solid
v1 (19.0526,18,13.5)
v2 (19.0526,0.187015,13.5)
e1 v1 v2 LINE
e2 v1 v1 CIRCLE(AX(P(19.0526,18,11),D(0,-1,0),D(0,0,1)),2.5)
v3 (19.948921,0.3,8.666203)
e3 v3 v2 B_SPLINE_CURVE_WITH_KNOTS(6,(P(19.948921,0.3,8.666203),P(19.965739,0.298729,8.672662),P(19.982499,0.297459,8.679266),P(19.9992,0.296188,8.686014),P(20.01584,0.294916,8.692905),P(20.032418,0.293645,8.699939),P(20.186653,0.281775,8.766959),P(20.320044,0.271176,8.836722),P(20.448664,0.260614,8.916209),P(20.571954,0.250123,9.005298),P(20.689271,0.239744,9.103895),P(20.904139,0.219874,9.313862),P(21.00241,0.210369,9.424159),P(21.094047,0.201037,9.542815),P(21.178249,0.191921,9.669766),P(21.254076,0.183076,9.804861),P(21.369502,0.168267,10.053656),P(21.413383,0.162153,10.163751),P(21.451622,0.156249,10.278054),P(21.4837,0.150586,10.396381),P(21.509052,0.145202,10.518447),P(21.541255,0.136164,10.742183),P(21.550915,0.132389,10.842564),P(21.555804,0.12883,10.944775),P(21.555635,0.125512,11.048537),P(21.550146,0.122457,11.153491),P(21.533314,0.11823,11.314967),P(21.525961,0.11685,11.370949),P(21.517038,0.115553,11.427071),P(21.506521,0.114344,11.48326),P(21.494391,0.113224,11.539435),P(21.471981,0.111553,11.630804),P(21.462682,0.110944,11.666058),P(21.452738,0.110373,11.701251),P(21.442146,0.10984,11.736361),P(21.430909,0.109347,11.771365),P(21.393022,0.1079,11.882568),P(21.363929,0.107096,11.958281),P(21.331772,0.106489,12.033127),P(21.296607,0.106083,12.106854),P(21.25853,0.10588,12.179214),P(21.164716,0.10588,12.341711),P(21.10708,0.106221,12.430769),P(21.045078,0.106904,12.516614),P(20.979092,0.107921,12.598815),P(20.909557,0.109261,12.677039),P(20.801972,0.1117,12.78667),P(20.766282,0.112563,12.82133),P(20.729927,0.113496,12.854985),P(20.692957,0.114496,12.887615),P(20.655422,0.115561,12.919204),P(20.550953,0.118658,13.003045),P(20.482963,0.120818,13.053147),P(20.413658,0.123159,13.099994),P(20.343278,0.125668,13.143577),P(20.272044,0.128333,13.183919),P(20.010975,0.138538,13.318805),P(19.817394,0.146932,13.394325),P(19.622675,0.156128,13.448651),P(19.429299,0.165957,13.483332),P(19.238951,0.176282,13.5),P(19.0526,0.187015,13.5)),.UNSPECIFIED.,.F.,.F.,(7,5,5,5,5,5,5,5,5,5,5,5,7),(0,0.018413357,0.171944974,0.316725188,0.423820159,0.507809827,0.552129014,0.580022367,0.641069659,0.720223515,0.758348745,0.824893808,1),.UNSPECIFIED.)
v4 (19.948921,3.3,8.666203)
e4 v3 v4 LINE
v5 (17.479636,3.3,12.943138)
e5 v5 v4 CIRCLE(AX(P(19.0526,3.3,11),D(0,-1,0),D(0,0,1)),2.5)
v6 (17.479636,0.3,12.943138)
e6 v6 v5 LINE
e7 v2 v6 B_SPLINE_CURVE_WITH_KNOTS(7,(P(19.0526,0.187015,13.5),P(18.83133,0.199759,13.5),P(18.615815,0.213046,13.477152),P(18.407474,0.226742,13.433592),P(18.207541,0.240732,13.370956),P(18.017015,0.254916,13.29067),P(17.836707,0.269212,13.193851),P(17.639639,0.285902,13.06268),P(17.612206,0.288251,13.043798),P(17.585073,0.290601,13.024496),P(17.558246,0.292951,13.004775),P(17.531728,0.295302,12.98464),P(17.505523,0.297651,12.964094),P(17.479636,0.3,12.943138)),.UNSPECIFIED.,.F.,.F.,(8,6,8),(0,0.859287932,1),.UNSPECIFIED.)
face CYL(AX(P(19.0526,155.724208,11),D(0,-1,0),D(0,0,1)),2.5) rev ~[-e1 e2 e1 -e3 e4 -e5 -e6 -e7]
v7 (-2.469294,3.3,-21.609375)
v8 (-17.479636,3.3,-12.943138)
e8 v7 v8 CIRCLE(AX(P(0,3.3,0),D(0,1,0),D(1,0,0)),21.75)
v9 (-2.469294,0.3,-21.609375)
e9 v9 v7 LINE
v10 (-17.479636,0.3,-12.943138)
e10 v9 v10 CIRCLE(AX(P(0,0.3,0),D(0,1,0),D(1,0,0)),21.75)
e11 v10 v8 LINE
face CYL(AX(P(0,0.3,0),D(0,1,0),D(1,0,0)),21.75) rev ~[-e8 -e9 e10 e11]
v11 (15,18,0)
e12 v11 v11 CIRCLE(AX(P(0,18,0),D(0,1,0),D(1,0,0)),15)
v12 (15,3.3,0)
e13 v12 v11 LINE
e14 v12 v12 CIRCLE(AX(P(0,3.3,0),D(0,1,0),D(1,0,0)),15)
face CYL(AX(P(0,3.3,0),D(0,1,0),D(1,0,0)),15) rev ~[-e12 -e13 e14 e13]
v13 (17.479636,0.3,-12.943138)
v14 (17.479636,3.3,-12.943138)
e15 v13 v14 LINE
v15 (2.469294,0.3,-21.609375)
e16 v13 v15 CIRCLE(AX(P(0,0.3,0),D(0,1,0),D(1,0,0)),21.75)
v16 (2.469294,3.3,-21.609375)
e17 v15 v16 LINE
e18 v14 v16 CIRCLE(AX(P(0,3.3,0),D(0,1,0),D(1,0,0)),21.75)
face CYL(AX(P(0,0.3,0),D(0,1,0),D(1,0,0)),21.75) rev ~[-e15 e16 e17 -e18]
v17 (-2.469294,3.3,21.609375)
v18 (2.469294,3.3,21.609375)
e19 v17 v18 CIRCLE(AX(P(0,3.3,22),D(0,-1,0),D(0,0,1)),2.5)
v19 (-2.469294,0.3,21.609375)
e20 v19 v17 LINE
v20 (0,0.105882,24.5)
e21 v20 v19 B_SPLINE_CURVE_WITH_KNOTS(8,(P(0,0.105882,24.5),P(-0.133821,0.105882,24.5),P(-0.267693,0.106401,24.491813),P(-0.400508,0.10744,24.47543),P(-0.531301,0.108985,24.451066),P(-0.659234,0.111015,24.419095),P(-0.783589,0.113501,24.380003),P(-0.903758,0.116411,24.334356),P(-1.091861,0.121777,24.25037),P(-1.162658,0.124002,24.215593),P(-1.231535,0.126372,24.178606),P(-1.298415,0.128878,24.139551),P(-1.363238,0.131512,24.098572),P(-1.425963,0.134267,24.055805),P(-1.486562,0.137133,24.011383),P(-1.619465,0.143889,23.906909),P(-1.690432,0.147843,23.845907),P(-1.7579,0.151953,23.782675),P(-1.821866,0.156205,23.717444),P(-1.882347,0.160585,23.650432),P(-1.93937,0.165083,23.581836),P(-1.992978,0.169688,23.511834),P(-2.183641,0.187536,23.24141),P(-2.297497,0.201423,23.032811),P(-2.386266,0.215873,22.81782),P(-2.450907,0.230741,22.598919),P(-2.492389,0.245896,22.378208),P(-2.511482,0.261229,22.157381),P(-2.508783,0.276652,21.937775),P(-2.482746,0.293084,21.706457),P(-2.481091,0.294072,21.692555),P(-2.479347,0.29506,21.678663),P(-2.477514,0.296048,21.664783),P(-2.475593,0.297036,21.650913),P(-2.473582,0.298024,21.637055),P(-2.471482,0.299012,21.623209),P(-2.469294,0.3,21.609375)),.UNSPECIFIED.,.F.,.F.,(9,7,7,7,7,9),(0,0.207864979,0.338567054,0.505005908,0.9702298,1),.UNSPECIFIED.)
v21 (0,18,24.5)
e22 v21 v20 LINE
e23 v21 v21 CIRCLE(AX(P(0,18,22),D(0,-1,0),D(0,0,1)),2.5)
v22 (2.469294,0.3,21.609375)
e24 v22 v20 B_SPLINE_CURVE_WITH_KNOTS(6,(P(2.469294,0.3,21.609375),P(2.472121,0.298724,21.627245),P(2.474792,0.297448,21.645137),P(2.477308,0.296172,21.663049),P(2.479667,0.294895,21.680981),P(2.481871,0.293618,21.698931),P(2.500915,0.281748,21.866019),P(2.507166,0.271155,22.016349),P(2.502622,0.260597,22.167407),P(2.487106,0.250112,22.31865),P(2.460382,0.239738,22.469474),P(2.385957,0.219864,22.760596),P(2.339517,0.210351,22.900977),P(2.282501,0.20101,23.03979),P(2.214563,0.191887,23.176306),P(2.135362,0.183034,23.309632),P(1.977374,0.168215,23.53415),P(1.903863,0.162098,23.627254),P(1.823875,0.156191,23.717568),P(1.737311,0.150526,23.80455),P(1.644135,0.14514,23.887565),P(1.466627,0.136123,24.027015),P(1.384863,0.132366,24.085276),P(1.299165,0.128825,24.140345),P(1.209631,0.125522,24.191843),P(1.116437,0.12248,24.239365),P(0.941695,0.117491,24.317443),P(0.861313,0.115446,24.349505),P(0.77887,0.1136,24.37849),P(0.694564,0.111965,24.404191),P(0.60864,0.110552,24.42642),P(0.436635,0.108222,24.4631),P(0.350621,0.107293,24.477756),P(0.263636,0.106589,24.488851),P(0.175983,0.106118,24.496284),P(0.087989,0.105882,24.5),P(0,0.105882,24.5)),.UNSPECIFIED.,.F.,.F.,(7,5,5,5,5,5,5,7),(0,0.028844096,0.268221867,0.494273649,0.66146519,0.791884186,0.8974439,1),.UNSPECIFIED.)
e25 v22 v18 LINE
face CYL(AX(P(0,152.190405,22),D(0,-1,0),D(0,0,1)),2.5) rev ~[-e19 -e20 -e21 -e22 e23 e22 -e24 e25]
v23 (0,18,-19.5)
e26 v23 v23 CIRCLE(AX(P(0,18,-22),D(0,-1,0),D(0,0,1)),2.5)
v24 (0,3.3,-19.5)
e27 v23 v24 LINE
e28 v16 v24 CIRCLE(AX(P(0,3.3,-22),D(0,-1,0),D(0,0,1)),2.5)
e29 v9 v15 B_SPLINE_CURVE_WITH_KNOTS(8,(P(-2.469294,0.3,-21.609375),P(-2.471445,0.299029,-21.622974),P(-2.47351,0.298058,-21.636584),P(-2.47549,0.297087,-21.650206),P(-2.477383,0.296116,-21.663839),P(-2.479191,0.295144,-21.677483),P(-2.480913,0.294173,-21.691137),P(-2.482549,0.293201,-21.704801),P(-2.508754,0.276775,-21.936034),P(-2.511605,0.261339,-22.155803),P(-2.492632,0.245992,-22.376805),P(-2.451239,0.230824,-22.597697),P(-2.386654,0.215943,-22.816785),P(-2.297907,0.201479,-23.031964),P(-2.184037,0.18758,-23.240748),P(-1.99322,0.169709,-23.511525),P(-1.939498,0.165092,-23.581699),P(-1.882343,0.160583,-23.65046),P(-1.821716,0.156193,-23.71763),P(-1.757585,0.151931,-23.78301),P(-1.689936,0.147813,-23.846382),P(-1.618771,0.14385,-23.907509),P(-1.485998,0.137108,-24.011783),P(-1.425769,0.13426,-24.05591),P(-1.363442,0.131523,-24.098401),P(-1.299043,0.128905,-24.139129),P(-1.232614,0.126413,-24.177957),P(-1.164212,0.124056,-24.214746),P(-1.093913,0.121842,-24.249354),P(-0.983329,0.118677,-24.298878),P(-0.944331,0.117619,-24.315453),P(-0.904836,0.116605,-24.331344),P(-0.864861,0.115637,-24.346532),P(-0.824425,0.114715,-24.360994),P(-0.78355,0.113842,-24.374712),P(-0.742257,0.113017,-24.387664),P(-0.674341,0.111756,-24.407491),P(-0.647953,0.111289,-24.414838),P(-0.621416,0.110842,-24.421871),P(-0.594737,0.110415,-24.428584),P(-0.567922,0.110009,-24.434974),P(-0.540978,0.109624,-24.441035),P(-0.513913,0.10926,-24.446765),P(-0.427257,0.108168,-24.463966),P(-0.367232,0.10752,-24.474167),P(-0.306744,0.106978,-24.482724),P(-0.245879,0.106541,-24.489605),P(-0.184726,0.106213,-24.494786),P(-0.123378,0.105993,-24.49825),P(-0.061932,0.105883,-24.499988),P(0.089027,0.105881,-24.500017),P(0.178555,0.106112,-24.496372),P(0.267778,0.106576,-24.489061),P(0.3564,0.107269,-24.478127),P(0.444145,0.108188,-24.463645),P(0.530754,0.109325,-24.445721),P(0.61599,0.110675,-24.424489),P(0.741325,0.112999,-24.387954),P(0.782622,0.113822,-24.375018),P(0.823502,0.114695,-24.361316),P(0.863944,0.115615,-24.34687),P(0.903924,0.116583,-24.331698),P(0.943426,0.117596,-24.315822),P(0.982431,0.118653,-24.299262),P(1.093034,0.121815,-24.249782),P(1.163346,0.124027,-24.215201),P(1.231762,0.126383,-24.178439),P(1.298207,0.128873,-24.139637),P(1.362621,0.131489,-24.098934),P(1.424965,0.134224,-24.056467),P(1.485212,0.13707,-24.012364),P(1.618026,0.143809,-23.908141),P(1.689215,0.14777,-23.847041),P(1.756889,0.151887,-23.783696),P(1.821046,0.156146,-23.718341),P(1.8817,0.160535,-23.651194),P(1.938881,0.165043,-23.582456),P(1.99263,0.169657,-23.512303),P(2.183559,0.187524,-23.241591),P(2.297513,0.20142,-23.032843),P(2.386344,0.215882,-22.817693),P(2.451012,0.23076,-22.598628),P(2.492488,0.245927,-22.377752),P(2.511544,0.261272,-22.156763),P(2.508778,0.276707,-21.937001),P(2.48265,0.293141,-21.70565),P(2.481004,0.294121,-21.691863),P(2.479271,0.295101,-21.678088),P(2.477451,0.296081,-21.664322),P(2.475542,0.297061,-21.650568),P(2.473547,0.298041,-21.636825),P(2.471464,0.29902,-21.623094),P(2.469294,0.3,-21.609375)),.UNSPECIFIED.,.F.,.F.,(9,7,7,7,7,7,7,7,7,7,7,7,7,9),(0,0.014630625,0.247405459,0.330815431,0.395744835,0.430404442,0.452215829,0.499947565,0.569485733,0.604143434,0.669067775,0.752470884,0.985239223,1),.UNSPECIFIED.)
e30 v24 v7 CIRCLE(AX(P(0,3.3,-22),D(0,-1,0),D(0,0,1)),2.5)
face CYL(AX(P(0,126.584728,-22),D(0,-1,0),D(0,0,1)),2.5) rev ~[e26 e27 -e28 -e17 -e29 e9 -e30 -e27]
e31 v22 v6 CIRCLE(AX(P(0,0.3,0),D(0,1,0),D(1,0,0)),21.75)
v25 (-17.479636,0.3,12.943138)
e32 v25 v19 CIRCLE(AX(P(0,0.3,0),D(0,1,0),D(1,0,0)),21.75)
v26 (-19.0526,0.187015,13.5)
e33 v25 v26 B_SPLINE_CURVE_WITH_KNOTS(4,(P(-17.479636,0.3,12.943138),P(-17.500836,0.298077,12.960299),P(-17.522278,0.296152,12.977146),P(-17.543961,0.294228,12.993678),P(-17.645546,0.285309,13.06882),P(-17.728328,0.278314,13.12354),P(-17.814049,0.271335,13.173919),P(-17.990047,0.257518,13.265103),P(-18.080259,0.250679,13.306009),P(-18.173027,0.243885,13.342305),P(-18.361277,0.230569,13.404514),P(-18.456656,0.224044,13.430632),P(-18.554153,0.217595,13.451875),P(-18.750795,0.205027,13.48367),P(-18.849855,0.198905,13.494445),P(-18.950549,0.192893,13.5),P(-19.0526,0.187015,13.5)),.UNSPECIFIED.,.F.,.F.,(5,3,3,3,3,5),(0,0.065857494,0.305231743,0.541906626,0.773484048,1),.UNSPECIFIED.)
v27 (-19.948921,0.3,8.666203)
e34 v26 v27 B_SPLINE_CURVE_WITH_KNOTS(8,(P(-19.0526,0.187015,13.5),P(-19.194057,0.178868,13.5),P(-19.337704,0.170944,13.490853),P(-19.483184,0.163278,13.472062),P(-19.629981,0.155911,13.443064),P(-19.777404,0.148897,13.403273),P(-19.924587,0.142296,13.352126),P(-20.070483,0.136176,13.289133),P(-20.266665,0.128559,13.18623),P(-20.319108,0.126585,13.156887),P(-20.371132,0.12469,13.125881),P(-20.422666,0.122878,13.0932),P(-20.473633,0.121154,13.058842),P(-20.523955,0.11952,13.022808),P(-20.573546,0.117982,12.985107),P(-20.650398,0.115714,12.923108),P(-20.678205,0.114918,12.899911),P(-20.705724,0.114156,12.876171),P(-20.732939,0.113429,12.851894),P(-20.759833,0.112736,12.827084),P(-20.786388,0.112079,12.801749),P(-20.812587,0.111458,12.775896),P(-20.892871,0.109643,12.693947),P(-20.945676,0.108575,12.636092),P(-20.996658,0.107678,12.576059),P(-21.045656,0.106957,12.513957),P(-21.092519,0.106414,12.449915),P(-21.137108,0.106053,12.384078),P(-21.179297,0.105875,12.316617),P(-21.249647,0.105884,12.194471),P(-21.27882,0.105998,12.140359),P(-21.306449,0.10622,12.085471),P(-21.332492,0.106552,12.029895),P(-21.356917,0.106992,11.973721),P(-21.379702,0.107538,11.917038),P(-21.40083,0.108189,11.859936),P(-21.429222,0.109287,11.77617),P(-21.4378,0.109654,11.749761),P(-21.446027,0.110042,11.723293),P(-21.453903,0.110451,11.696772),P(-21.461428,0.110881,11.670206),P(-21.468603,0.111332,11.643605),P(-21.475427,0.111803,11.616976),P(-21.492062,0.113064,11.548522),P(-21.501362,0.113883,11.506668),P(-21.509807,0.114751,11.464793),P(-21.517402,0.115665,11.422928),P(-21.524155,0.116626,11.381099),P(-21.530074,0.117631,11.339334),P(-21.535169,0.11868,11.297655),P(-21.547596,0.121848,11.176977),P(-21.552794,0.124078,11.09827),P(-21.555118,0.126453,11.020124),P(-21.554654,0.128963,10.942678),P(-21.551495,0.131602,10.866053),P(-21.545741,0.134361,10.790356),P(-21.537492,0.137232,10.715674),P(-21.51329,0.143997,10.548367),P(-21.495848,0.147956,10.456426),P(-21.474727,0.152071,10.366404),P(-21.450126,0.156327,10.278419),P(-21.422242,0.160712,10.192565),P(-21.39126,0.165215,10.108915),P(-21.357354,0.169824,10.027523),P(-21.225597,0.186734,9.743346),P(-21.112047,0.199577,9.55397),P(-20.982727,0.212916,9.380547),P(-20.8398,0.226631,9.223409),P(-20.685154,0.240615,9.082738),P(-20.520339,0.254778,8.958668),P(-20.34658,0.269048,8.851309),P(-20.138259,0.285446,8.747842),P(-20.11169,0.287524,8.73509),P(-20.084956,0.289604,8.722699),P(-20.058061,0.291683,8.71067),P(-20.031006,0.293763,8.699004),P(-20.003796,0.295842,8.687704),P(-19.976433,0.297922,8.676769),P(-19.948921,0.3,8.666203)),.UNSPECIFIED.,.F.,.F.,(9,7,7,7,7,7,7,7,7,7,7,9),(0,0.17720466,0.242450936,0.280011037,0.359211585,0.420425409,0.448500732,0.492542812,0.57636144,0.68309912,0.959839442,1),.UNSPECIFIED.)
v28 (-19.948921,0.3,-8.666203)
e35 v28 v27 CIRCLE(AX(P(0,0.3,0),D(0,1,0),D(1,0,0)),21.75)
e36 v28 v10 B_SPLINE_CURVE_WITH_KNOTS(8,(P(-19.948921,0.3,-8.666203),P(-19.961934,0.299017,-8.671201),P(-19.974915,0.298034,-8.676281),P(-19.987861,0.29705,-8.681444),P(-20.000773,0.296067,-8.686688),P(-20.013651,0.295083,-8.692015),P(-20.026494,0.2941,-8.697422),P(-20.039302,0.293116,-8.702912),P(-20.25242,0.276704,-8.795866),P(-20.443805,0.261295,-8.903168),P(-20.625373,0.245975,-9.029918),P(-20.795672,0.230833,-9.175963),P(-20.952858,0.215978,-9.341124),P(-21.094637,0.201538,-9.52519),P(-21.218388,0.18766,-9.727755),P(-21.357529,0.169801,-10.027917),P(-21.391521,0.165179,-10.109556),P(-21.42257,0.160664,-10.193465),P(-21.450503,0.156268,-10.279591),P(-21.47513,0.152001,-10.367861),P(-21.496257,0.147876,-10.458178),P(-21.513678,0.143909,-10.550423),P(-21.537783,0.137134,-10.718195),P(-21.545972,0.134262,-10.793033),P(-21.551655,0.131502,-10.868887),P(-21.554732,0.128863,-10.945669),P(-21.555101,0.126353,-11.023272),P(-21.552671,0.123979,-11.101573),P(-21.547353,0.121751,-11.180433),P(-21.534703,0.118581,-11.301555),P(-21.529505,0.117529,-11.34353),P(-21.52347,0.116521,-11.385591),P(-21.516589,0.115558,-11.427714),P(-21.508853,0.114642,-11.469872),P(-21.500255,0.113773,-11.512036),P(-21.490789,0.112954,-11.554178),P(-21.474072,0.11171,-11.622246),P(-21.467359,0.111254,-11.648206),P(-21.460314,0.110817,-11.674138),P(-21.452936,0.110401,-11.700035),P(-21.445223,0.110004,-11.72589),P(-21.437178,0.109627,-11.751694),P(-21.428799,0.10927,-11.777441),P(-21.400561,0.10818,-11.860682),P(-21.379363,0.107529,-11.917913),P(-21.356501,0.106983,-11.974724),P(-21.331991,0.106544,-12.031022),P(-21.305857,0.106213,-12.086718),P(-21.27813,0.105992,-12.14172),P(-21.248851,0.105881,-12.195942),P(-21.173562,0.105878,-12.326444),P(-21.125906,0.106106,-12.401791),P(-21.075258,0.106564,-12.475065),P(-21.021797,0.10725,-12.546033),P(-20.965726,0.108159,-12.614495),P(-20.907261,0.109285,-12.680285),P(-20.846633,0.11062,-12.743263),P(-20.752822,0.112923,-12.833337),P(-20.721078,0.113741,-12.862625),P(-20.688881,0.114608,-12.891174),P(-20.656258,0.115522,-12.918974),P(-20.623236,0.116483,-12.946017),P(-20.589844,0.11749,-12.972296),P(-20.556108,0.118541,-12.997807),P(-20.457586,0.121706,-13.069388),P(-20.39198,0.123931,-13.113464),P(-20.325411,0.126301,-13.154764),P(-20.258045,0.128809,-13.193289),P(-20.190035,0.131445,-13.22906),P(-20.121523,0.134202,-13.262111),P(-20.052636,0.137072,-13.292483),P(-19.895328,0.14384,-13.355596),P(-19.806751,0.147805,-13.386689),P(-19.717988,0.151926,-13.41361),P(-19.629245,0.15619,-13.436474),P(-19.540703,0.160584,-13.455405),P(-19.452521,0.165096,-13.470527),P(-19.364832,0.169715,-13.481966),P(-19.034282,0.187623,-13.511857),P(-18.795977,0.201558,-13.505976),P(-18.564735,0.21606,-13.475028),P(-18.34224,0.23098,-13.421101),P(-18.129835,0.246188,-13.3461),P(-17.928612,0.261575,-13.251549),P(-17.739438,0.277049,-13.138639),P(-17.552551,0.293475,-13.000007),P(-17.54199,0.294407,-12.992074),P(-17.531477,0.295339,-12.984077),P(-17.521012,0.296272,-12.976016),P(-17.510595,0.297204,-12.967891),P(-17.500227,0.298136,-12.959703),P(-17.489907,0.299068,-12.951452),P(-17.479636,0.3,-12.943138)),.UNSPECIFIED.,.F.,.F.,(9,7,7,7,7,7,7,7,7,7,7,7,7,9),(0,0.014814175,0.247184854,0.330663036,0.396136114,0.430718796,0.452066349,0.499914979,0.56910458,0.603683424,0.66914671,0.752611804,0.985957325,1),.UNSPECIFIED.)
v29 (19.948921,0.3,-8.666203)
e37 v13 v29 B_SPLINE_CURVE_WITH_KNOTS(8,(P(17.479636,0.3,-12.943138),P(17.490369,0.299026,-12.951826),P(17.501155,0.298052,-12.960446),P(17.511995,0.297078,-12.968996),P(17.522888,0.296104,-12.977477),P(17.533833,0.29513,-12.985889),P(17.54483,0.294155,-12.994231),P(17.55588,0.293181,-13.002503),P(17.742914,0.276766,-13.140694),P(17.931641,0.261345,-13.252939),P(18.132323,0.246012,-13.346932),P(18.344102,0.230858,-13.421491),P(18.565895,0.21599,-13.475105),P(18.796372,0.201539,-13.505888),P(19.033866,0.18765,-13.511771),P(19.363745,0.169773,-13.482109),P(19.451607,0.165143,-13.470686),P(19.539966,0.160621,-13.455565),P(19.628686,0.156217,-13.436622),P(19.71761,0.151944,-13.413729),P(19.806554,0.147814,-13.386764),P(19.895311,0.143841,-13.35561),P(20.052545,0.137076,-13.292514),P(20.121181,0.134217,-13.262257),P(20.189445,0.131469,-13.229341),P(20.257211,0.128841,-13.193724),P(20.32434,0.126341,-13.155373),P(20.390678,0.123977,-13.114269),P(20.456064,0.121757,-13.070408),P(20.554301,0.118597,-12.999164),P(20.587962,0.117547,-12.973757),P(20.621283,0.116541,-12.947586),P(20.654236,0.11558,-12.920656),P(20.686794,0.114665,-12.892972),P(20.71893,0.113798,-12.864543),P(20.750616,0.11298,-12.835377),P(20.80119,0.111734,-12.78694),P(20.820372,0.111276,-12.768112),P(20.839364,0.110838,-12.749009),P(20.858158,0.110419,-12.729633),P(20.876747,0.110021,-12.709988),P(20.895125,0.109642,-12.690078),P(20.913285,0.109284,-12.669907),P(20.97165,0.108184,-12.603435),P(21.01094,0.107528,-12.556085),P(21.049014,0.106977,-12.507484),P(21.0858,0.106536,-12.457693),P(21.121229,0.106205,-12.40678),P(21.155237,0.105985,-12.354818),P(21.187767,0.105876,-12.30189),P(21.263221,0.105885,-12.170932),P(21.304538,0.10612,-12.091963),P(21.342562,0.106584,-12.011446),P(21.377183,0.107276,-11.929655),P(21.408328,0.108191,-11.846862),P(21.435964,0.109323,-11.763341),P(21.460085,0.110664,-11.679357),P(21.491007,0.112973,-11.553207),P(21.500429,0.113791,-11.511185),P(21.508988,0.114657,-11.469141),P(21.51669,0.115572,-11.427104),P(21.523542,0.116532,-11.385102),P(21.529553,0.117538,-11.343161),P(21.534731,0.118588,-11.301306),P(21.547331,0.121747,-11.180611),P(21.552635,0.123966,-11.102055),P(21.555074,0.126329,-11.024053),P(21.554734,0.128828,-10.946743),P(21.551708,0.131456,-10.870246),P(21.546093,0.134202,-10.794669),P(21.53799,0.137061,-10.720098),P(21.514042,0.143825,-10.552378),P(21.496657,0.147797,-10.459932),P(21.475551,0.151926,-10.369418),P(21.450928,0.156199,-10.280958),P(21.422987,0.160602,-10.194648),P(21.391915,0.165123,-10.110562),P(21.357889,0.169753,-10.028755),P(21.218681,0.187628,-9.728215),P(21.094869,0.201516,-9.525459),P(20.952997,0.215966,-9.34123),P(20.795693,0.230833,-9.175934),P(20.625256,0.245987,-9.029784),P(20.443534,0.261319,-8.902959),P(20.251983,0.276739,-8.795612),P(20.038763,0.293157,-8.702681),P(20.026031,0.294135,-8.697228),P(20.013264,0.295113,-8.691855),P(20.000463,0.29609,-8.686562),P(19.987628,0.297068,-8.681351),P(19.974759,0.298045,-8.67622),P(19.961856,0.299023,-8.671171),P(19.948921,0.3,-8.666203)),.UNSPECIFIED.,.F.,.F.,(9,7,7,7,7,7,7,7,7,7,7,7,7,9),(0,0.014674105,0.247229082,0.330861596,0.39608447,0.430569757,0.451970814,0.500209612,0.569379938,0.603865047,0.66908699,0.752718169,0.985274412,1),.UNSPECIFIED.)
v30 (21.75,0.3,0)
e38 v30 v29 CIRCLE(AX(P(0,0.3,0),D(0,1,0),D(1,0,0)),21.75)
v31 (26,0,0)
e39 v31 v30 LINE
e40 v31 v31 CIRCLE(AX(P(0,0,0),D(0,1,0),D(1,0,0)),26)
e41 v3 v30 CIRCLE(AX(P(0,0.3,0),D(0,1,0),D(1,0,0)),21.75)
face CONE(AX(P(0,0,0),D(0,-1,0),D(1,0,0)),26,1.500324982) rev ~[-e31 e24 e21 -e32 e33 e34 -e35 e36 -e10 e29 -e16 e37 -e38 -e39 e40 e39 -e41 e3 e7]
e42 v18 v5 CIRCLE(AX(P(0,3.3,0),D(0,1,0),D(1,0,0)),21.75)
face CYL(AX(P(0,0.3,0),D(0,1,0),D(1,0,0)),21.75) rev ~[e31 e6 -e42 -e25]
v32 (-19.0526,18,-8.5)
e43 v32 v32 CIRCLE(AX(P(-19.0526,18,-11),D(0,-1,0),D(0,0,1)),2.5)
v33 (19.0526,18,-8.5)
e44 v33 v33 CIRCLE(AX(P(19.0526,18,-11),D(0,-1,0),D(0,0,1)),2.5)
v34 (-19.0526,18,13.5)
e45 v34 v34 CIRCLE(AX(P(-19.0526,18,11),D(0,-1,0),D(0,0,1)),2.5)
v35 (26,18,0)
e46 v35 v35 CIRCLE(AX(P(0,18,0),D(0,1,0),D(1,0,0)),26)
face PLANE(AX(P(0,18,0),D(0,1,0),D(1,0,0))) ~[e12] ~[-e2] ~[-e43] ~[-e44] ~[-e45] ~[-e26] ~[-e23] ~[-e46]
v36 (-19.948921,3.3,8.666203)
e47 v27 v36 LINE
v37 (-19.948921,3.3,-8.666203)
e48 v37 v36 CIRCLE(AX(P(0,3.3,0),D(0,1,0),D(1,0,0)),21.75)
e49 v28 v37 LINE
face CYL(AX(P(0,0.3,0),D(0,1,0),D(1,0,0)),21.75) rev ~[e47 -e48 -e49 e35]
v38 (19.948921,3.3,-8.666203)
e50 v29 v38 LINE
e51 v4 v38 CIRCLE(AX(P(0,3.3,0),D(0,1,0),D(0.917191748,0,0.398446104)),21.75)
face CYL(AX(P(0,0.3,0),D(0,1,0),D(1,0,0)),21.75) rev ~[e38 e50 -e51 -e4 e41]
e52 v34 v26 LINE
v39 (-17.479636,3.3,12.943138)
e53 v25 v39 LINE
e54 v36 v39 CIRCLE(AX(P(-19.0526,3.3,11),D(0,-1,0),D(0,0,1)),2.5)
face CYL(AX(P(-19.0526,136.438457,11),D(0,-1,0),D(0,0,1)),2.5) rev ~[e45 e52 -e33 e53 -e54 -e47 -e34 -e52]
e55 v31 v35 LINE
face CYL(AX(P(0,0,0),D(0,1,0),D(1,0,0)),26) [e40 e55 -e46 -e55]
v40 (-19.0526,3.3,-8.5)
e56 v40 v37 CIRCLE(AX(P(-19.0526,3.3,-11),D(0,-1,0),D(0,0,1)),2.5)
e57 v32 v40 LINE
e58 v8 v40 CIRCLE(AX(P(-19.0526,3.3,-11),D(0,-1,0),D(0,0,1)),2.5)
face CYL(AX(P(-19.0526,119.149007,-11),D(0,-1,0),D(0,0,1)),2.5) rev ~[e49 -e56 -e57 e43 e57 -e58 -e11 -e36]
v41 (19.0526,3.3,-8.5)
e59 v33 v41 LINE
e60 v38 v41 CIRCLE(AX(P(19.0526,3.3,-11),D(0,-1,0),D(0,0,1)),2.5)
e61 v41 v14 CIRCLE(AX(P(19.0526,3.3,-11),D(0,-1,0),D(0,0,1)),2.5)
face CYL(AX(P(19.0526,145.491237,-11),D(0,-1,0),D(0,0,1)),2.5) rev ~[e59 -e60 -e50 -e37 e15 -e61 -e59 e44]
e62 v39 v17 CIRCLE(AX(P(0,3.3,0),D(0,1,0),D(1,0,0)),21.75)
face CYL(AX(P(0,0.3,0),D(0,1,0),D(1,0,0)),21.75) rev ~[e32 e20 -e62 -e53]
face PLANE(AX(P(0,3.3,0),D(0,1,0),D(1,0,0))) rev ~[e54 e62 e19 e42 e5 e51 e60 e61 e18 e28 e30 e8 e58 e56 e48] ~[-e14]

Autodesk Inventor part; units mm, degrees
ref_plane "YZ Plane" through (0, 0, 0) normal (1, 0, 0) x (0, 1, 0)
ref_plane "XZ Plane" through (0, 0, 0) normal (0, 1, 0) x (-1, 0, 0)
ref_plane "XY Plane" through (0, 0, 0) normal (0, 0, 1) x (1, 0, 0)
sketch "Sketch3" plane through (0, 0, 0) normal (0, 0, 1) x (1, 0, 0)
  line L0 (26, 0) -> (21.75, 0.3)
  line L1 (26, 0) -> (26, 18)
  line L2 (21.75, 0.3) -> (21.75, 3.3)
  line L3 (21.75, 3.3) -> (15, 3.3)
  line L4 (15, 3.3) -> (15, 18)
  line L5 (15, 18) -> (26, 18)
  line L6 (0, -3.6) -> (0, 21.6) projected
  point P0 (0, 0)
  dimension "d5" = 26
  dimension "d6" = 21.75
  dimension "d7" = 0.3
  dimension "d8" = 18
  dimension "d9" = 15
  dimension "d10" = 3
revolve "Revolution1" add sketch "Sketch3" angle 360 about axis through (0, -10, 0) along (0, 1, 0)
sketch "Sketch4" plane through (0, 18, 0) normal (0, 1, 0) x (1, 0, 0)
  point P0 (0, 0)
  point P1 (0, 22)
  point P2 (-19.0526, 11)
  point P3 (-19.0526, -11)
  point P4 (0, -22)
  point P5 (19.0526, -11)
  point P6 (19.0526, 11)
  dimension "d12" = 22
  dimension "d15" = 360
hole "Hole1" at (0, 18, -22) at (-19.0526, 18, -11) at (-19.0526, 18, 11) at (0, 18, 22) at (19.0526, 18, 11) at (19.0526, 18, -11) direction (0, -1, 0) diameter 5 end through all both
properties part number "Adapter1"
